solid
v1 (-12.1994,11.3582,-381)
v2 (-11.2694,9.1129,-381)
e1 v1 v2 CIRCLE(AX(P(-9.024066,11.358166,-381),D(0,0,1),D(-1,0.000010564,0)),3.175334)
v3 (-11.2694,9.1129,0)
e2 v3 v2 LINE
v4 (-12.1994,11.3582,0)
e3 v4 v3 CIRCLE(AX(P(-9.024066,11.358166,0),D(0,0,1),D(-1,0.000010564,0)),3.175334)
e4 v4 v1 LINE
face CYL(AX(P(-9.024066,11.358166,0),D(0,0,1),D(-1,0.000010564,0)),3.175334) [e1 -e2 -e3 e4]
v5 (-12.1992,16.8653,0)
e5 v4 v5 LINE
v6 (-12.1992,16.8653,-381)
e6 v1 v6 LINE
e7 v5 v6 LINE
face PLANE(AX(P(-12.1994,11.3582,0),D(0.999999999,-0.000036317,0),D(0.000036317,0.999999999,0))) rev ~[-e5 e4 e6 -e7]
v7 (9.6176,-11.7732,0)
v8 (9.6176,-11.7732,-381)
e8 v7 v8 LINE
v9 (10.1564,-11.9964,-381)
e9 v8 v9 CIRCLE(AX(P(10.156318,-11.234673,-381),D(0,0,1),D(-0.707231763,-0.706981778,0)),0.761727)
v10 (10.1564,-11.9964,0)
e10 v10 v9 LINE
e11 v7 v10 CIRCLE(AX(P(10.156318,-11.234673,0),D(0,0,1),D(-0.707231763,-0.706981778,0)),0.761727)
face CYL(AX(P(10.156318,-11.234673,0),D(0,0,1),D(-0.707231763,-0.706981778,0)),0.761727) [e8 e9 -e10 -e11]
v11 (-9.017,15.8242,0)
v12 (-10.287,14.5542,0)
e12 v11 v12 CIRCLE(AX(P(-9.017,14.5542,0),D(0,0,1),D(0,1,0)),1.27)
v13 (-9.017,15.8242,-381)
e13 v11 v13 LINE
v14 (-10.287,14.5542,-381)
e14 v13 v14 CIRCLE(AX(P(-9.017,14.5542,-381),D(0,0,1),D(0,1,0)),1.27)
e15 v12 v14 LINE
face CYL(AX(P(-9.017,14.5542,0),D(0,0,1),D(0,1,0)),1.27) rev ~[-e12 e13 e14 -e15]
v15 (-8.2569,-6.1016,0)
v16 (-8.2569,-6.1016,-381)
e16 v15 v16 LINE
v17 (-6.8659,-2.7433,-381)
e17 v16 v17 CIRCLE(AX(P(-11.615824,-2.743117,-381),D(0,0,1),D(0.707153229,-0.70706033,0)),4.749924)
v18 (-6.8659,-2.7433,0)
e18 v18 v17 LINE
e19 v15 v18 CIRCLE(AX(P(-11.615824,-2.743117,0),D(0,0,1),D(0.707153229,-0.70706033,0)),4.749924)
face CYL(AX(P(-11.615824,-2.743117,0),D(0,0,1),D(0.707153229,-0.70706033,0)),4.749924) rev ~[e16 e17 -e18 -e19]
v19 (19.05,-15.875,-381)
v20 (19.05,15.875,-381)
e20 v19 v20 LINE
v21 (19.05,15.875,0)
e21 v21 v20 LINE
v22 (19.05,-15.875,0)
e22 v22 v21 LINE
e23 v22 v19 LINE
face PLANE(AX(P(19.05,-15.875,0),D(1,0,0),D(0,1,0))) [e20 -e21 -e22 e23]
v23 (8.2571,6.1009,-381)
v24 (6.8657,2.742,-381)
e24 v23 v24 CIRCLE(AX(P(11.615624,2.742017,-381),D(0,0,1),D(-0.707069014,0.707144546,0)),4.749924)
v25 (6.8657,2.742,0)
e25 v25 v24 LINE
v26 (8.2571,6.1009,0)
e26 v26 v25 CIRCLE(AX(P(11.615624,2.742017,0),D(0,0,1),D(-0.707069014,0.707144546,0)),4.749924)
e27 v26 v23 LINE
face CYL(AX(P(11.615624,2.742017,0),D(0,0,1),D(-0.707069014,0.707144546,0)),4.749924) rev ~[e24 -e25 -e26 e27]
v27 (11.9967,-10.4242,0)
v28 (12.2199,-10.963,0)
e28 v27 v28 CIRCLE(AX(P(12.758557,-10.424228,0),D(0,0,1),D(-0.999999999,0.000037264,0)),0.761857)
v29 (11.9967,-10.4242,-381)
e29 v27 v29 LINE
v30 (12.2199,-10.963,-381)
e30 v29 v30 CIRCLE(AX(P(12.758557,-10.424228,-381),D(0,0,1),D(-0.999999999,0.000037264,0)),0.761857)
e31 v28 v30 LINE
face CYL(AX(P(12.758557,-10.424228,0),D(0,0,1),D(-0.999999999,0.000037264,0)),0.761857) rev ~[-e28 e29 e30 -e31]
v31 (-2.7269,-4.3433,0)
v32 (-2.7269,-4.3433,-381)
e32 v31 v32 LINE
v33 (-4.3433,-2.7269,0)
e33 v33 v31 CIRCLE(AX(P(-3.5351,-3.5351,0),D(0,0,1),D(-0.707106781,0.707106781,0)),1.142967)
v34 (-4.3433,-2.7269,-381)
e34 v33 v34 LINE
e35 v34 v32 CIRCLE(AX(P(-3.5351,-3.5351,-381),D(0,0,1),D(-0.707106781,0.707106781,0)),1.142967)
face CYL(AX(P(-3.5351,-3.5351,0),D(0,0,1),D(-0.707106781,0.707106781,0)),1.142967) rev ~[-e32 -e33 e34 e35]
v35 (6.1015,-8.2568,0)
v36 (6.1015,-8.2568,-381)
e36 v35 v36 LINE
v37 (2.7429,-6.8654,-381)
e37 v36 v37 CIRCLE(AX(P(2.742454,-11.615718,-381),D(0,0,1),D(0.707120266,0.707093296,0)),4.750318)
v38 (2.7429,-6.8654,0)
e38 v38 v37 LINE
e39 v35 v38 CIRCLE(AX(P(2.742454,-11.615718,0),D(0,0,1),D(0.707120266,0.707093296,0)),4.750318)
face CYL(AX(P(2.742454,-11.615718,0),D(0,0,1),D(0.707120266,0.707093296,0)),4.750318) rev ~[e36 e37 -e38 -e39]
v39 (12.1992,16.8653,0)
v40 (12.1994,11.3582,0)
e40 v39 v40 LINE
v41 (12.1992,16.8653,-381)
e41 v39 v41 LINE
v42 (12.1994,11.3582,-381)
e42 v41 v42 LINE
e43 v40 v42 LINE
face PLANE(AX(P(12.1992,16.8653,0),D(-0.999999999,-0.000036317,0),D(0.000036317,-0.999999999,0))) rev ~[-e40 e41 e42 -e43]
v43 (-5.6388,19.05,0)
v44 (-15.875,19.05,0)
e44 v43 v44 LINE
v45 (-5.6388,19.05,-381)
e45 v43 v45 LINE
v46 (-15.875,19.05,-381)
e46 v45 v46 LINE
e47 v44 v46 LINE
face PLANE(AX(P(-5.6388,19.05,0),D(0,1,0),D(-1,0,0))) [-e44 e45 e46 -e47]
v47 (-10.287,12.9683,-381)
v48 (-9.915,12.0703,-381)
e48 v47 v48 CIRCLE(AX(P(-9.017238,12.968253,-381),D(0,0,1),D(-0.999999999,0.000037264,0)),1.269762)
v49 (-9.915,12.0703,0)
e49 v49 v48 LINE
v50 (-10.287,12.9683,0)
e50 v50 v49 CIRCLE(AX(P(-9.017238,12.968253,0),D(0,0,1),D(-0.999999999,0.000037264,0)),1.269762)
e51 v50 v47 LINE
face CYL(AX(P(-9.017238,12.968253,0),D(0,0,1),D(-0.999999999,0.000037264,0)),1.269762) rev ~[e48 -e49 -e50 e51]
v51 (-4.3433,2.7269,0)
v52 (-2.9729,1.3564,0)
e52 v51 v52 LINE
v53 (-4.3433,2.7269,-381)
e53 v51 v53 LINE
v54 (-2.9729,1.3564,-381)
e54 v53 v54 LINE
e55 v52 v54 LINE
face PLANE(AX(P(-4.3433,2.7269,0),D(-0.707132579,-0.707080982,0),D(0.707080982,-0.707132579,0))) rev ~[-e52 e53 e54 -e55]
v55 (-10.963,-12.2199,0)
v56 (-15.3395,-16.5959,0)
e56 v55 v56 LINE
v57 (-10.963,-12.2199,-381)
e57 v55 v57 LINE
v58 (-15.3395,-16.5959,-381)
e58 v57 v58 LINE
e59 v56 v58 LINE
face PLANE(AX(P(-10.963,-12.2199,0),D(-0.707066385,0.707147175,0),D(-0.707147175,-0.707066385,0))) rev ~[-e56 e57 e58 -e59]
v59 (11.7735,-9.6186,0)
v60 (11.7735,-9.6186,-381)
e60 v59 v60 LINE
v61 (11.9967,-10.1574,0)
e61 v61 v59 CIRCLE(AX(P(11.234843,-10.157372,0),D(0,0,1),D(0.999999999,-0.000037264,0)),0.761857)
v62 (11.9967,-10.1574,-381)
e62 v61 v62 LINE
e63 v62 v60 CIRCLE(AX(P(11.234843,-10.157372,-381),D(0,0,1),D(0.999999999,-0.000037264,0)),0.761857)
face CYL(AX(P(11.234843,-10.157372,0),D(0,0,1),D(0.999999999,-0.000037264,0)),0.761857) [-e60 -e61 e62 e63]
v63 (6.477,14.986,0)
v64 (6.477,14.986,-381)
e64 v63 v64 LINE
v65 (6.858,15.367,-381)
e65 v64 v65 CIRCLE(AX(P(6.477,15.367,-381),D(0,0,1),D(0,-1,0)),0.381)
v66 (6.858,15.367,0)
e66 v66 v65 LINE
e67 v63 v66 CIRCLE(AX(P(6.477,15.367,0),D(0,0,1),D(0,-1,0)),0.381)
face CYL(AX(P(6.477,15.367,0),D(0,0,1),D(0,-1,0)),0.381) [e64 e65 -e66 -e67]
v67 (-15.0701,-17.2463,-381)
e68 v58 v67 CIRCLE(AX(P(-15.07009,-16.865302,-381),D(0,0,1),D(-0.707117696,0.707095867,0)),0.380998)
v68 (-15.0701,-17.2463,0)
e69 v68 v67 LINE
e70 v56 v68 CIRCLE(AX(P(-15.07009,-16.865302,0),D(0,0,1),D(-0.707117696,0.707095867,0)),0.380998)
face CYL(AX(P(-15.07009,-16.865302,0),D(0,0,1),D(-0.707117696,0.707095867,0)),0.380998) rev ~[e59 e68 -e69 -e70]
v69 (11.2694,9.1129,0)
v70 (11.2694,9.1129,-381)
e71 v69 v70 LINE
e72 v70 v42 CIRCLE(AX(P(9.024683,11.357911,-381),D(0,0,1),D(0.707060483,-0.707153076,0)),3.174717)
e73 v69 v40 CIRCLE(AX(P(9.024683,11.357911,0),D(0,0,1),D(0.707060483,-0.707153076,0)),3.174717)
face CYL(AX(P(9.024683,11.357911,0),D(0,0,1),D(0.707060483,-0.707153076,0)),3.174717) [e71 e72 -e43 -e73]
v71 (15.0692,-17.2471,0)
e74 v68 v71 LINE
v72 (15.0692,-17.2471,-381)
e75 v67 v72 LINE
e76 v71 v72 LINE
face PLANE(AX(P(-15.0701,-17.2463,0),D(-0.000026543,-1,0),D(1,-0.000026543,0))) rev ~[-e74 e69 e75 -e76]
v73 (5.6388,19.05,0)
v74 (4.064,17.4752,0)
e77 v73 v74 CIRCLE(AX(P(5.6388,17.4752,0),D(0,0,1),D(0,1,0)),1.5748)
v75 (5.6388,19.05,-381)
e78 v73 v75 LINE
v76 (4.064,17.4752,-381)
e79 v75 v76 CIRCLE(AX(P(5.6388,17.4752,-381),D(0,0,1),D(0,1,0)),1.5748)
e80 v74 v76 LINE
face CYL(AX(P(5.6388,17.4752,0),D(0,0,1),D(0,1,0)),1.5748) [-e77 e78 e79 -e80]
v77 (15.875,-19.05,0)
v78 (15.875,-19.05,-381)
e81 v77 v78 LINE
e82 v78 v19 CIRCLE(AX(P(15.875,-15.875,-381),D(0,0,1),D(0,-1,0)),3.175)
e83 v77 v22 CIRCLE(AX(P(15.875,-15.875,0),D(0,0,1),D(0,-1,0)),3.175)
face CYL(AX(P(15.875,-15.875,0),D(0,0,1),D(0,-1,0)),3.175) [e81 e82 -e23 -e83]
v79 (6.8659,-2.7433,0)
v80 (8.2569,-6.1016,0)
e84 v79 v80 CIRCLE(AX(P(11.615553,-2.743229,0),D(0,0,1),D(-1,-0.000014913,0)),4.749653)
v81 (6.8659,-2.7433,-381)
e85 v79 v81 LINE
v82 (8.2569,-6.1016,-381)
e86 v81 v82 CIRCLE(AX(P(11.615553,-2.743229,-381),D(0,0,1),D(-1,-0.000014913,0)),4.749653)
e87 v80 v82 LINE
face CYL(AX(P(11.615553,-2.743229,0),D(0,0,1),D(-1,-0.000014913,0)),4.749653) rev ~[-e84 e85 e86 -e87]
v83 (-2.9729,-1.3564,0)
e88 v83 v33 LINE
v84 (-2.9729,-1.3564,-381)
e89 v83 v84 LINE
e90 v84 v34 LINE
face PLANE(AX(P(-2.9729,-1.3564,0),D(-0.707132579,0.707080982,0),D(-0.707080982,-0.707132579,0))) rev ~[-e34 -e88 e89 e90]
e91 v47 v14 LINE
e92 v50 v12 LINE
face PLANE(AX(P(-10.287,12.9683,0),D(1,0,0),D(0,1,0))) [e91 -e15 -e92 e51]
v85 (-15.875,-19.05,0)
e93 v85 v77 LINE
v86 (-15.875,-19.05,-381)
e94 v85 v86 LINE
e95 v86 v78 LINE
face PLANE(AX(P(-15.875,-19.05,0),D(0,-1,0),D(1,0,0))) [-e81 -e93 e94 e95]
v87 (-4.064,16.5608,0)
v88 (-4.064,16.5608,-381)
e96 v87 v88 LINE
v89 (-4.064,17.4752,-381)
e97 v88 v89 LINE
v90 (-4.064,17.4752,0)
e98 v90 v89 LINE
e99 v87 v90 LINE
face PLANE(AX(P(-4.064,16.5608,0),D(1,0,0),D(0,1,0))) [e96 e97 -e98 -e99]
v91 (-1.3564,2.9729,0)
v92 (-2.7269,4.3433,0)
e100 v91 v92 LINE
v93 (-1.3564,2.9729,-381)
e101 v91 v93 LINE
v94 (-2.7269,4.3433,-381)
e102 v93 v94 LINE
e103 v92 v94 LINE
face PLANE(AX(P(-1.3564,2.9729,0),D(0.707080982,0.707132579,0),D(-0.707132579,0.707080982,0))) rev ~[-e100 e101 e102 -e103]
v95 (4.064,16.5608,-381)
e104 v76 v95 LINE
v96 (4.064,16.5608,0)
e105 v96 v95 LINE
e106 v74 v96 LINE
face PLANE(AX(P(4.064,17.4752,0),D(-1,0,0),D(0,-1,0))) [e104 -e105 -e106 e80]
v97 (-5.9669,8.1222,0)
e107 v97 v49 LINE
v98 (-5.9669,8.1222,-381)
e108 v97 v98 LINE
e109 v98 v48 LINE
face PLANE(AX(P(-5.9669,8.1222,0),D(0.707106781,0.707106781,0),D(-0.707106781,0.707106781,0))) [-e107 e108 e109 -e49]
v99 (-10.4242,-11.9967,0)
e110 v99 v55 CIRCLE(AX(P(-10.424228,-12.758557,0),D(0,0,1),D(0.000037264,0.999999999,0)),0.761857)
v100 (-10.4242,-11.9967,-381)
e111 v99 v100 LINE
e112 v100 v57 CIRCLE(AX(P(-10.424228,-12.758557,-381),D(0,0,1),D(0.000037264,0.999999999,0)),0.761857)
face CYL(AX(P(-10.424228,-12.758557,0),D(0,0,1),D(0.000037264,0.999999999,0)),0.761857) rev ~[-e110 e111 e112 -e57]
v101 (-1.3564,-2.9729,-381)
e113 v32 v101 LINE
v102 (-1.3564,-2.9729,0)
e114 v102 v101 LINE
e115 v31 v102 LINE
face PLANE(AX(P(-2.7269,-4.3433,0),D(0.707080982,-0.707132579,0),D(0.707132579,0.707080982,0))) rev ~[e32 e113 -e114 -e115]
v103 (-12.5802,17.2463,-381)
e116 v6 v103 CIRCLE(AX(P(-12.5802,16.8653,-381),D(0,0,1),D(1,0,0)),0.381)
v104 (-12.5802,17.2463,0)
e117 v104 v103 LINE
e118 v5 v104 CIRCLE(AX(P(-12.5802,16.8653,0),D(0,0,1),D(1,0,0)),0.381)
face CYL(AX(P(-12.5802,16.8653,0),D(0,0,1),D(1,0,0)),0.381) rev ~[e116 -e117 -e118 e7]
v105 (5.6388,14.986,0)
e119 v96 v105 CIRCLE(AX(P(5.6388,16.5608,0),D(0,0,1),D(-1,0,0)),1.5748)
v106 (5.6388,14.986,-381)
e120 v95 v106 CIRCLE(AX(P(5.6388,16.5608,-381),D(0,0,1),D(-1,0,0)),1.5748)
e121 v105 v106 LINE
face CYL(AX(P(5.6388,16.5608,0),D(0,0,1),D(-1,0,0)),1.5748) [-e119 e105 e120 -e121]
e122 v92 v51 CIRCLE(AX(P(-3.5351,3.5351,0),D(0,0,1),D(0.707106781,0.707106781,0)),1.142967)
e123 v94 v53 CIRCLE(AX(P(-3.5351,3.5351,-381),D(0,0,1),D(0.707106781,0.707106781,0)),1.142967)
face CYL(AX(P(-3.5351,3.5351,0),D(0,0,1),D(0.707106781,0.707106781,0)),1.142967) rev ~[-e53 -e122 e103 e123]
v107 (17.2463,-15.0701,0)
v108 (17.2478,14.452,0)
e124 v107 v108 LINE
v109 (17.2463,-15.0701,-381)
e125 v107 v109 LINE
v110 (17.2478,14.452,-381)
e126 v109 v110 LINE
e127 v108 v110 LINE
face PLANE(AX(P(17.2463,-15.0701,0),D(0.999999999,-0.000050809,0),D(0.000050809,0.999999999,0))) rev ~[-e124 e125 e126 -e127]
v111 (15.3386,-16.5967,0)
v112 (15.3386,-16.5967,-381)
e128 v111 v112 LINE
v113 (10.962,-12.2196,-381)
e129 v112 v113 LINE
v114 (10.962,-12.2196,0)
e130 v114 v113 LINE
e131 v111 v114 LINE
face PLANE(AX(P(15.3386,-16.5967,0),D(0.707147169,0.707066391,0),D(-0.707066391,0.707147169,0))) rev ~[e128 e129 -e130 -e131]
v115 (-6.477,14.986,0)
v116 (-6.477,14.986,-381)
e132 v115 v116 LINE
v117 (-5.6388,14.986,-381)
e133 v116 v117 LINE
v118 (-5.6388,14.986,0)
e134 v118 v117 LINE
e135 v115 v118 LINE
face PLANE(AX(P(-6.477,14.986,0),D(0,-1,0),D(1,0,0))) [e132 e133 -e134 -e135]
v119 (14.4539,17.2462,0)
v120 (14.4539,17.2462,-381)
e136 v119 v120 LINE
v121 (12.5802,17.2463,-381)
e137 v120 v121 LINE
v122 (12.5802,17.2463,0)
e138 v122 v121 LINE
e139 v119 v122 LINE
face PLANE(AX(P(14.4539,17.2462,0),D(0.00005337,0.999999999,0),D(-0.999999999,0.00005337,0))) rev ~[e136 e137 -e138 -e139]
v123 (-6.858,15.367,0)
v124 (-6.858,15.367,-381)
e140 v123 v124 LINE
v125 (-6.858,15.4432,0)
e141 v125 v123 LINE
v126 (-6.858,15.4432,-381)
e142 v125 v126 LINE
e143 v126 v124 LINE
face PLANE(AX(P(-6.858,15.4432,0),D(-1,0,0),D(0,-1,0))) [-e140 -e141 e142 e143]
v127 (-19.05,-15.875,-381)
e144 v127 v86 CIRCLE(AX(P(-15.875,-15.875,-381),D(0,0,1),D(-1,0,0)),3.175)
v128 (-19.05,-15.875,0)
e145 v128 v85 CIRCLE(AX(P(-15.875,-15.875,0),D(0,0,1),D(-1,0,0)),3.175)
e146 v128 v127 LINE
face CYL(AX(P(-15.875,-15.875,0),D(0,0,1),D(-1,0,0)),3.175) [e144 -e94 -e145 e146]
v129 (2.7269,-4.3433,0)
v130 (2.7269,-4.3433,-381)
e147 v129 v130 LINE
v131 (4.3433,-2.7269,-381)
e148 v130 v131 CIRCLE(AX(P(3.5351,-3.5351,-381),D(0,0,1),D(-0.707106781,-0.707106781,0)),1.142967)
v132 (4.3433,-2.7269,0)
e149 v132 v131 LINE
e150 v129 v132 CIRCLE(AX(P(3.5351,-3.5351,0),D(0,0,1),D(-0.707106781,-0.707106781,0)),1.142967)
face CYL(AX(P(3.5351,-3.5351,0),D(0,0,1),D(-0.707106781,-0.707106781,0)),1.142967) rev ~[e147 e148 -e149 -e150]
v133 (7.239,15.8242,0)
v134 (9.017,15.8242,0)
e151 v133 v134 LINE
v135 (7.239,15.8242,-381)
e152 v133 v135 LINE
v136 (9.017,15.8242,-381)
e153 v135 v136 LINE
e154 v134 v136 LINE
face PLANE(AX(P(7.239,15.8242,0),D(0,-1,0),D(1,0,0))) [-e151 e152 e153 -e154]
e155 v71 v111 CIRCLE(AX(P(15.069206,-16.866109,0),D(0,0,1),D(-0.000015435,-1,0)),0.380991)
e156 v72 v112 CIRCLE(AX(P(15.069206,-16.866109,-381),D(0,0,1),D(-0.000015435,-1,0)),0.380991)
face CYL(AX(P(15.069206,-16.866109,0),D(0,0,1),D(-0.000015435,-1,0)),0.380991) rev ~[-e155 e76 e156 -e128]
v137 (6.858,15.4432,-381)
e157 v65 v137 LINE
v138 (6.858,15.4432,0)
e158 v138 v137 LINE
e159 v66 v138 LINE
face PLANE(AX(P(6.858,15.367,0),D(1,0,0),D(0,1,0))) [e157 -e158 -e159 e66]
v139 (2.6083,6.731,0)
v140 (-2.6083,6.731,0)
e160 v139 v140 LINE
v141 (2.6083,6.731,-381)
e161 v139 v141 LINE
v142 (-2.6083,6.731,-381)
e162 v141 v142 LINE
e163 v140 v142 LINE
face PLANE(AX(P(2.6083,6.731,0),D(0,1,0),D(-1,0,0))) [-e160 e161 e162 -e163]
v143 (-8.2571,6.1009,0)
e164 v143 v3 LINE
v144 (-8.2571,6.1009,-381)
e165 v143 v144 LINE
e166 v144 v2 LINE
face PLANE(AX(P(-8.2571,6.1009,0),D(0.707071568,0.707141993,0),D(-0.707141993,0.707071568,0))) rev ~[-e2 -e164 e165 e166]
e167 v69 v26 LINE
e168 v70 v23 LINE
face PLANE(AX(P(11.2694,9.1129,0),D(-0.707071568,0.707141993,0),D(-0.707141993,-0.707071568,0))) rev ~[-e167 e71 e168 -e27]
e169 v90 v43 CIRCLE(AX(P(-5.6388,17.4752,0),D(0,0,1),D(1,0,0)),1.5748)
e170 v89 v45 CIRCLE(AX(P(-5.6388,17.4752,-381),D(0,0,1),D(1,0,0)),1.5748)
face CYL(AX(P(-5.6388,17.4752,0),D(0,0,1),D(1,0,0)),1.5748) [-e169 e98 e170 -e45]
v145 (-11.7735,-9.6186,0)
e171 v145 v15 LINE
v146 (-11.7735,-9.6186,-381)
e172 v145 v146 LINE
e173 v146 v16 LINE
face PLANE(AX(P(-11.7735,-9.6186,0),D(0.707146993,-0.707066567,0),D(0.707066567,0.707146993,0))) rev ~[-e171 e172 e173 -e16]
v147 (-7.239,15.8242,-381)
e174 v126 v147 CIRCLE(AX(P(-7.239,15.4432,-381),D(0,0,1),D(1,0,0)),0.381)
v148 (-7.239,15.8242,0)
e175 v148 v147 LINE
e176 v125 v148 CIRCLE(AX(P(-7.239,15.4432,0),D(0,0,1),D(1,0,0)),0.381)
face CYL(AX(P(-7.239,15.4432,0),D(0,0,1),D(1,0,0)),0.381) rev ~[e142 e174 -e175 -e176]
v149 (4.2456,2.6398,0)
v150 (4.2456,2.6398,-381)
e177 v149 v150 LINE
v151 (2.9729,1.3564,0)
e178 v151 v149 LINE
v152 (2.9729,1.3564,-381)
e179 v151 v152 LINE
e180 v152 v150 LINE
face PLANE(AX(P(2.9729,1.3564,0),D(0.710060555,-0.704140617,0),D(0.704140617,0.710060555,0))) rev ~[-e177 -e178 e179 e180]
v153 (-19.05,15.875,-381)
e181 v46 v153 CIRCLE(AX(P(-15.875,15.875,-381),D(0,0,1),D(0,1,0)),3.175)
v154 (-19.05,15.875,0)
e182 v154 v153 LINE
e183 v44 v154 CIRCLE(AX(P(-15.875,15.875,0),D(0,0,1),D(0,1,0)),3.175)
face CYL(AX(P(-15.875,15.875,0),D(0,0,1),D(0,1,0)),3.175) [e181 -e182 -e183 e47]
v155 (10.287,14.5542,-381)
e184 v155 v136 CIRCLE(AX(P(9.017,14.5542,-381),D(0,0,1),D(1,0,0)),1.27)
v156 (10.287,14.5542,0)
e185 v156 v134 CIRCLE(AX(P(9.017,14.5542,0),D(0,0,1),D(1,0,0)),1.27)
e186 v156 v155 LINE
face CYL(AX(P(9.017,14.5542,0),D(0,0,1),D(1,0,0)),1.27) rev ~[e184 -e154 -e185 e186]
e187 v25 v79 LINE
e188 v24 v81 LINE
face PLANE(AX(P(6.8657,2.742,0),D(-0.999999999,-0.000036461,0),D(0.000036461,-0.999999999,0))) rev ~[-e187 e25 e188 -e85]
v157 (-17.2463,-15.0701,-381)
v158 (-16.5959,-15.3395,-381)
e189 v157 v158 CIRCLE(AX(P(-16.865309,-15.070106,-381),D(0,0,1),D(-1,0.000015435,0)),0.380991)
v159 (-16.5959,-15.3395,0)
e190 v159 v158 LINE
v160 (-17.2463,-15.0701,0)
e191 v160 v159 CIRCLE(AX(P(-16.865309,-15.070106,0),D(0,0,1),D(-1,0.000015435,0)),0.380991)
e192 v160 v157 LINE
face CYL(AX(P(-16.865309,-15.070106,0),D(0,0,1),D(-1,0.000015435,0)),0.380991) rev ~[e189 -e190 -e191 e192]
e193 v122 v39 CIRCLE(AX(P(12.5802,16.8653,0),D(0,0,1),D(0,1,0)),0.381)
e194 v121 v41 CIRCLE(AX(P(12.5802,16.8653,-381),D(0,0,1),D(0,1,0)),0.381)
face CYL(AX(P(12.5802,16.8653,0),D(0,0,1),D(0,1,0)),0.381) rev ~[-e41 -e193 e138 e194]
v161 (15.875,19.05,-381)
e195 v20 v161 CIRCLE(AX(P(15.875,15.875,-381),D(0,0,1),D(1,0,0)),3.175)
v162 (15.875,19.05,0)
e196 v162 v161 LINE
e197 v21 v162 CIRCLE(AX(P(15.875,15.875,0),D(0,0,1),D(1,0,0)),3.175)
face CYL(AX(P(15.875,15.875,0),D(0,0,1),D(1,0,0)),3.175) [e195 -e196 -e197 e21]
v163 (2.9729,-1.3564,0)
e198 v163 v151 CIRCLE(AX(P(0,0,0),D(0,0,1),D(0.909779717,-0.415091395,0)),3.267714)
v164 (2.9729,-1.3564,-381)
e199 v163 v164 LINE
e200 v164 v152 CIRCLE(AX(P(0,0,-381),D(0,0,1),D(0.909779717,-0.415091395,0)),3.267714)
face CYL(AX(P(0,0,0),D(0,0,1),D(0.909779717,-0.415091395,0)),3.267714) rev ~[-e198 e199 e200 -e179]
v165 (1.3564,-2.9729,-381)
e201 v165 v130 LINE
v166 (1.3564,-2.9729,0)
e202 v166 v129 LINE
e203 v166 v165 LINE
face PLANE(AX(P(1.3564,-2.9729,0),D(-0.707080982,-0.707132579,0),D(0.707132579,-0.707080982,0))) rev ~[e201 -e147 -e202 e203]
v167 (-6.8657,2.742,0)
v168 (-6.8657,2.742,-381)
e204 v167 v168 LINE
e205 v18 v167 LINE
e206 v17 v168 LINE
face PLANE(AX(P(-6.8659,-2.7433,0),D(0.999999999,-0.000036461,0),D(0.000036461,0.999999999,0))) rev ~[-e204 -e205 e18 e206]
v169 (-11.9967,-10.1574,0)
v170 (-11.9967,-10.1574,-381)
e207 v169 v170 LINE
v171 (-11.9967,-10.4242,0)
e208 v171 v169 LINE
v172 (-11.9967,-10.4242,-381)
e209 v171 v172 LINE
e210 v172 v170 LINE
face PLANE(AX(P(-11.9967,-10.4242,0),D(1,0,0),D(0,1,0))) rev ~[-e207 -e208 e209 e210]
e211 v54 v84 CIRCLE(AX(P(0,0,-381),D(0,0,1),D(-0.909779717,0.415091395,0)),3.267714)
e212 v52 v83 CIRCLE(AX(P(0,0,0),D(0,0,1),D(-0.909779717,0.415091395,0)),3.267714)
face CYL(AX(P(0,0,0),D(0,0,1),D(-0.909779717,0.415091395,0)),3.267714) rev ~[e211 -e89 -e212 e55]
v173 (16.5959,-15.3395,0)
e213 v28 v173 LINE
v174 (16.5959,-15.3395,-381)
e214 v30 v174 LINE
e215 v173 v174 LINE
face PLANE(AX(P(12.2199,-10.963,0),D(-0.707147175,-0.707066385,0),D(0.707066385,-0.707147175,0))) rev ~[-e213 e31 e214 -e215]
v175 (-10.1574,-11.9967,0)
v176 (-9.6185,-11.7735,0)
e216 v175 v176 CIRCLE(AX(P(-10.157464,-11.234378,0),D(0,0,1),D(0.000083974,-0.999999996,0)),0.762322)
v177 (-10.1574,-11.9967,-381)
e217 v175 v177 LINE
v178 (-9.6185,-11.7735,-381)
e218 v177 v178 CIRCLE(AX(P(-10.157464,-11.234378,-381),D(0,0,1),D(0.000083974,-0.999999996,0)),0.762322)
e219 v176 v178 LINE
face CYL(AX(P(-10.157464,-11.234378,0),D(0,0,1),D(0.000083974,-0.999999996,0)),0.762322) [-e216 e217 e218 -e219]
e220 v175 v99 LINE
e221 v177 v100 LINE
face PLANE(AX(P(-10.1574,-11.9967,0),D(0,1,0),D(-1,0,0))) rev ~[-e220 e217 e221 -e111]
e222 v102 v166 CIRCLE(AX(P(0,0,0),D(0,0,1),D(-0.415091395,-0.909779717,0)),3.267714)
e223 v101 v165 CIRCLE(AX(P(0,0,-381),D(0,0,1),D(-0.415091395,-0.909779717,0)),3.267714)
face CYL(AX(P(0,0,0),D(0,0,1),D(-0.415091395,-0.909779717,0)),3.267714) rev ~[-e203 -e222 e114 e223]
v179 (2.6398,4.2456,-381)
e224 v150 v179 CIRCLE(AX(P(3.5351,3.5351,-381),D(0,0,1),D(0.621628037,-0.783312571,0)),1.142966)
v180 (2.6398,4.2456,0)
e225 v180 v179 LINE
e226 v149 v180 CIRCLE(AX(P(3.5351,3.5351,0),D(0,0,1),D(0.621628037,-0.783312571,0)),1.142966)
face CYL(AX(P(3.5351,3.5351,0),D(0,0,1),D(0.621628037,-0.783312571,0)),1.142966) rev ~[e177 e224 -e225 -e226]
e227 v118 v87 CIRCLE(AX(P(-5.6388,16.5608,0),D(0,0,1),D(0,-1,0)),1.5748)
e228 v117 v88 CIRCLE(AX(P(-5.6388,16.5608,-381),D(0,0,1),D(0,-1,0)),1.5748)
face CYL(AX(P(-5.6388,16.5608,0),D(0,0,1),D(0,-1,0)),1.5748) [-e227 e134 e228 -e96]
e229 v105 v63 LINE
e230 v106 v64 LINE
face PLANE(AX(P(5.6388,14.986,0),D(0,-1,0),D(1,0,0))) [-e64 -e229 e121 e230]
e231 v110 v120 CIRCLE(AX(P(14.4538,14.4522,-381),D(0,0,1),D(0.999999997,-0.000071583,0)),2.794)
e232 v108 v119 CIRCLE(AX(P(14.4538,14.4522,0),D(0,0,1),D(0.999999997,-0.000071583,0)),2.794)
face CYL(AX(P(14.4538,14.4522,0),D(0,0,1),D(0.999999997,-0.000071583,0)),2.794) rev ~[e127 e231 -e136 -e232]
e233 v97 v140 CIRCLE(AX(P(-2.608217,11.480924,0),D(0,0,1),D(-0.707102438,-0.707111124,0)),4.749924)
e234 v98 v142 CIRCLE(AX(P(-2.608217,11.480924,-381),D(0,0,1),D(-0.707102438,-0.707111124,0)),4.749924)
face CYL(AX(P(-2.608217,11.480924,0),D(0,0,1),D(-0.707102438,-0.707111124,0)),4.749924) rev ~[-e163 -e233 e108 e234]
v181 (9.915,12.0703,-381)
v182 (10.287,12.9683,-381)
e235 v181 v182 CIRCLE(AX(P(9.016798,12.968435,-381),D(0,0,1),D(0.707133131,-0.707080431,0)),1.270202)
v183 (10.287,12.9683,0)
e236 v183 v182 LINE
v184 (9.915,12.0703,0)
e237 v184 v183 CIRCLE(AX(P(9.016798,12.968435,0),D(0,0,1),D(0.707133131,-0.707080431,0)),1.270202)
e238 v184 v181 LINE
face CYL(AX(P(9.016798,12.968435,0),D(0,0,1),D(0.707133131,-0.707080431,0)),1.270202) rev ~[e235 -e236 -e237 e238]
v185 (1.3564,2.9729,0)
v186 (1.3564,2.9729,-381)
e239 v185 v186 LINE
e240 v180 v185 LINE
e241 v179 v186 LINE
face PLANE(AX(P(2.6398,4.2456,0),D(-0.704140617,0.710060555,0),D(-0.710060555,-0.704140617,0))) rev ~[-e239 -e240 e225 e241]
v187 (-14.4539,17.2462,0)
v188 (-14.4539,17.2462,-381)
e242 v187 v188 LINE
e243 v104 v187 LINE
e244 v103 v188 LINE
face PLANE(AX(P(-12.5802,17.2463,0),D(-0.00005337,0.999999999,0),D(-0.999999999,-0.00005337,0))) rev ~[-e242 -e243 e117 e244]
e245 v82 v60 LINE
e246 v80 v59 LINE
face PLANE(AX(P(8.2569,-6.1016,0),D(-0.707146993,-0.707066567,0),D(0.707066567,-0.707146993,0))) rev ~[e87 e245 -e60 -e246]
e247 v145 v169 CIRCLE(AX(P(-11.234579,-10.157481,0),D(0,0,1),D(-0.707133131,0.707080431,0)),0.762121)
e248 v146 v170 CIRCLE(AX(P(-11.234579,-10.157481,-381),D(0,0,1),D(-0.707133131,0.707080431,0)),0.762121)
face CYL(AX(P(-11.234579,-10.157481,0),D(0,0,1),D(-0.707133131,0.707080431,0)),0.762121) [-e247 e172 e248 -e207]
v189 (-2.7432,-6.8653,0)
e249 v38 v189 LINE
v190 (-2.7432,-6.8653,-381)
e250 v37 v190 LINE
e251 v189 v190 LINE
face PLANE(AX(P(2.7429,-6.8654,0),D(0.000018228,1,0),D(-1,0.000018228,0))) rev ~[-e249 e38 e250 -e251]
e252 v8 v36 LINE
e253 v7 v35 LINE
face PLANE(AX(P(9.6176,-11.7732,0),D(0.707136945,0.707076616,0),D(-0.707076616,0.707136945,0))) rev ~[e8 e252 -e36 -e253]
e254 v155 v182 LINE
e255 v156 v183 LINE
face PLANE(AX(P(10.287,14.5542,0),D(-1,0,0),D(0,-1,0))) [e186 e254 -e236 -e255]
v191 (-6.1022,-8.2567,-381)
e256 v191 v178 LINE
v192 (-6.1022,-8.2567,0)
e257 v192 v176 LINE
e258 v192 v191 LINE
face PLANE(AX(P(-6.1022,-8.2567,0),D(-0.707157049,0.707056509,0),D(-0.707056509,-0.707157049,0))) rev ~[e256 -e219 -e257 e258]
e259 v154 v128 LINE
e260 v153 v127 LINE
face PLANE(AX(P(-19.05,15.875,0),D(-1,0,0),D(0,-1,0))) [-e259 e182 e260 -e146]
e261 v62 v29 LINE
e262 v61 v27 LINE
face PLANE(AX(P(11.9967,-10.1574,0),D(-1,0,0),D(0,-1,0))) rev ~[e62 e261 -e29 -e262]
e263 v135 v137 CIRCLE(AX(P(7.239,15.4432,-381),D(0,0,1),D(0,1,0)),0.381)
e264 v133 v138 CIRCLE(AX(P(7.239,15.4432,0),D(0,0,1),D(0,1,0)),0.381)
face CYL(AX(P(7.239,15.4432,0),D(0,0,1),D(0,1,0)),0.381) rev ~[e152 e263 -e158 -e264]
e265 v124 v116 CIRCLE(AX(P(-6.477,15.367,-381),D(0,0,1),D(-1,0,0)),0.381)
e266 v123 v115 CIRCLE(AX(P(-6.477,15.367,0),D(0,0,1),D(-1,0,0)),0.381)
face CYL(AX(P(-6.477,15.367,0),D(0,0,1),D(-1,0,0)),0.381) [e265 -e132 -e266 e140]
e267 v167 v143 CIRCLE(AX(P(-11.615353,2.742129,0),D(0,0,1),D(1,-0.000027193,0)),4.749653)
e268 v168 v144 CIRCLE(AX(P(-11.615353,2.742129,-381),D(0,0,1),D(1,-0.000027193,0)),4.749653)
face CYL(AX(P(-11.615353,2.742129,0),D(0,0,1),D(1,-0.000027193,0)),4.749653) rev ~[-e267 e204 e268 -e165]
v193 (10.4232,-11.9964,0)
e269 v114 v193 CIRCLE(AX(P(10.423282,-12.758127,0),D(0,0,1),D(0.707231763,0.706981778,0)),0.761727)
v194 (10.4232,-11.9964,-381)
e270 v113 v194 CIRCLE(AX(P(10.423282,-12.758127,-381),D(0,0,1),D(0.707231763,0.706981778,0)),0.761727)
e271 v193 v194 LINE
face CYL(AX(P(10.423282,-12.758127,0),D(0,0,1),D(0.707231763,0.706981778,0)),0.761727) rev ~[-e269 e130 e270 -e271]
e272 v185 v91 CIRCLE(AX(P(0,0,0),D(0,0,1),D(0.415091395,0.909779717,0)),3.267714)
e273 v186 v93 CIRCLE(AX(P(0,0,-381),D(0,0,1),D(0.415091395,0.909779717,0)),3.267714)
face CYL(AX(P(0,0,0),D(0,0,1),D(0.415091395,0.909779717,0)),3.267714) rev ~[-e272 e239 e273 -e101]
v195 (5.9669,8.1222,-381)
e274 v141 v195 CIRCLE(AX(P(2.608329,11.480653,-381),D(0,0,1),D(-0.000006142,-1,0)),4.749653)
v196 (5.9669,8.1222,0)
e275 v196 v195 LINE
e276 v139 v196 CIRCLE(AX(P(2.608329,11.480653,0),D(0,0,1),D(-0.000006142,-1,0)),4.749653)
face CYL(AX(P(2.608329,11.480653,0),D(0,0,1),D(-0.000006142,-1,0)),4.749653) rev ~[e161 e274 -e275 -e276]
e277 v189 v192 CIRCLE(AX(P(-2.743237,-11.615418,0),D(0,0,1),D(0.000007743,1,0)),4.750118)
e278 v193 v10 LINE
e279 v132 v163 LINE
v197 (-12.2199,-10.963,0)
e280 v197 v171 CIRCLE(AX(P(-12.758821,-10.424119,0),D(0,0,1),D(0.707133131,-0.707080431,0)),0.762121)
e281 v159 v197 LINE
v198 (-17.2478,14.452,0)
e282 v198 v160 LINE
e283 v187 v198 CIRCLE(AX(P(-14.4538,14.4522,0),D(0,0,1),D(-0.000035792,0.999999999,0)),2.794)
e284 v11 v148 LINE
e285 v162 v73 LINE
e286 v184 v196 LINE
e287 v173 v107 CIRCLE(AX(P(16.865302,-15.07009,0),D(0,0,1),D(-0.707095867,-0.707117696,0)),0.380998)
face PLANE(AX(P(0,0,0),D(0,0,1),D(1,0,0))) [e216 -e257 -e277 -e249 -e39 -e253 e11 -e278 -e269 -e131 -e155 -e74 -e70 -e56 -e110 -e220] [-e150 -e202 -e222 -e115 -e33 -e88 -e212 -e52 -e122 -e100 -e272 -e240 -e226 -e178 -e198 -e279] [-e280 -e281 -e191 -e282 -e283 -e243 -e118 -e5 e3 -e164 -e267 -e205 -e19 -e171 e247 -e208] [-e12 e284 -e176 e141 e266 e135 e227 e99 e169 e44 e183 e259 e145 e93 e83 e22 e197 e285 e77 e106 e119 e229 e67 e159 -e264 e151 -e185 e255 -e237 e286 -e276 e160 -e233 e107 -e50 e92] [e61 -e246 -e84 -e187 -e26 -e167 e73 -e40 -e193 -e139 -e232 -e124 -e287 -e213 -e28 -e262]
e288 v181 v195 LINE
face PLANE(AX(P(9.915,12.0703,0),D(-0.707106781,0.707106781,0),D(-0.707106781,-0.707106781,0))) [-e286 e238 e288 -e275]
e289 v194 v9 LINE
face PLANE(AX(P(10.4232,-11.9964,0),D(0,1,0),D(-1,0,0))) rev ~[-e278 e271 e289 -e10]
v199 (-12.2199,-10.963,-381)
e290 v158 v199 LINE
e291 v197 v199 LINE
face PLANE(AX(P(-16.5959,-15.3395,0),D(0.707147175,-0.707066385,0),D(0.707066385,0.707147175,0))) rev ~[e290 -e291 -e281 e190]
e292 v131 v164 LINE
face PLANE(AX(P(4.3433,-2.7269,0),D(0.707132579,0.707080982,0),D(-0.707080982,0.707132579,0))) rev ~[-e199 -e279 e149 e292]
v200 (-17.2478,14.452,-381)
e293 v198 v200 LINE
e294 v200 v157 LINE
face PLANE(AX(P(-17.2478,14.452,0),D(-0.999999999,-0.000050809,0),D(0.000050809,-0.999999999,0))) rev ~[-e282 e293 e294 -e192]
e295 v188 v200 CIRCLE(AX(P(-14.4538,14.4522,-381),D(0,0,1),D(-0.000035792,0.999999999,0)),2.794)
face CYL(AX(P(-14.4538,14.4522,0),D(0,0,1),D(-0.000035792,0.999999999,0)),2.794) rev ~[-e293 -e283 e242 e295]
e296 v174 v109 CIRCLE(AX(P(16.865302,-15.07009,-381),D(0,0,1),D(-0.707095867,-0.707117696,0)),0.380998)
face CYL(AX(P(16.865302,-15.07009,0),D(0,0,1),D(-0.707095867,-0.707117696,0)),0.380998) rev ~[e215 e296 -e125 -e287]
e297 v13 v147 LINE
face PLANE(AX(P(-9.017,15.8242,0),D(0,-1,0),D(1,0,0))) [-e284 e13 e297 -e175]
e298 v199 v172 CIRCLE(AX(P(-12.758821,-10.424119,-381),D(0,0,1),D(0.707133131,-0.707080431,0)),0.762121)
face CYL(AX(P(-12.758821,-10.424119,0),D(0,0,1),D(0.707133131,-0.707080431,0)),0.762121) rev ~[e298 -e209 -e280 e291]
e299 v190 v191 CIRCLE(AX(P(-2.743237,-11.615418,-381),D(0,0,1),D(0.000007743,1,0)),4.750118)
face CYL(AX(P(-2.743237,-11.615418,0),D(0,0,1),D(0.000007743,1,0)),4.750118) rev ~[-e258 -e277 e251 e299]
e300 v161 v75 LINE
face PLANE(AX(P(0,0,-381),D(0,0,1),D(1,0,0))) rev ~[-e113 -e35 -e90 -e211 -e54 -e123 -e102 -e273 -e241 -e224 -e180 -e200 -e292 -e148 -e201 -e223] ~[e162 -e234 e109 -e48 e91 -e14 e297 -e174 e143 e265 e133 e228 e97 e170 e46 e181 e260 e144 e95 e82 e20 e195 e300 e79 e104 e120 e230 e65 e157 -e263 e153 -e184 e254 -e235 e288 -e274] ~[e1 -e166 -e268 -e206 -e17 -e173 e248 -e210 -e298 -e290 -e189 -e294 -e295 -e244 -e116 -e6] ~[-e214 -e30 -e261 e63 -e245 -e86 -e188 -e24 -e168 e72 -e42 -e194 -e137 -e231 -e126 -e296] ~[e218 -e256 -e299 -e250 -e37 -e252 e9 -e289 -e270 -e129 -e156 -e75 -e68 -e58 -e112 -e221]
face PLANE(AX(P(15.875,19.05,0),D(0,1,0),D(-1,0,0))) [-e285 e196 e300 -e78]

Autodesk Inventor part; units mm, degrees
ref_plane "YZ Plane" through (0, 0, 0) normal (1, 0, 0) x (0, 1, 0)
ref_plane "XZ Plane" through (0, 0, 0) normal (0, 1, 0) x (-1, 0, 0)
ref_plane "XY Plane" through (0, 0, 0) normal (0, 0, 1) x (1, 0, 0)
sketch "Sketch1" plane through (0, 0, 0) normal (0, 0, 1) x (1, 0, 0)
  arc A0 (-4.3433, -2.7269) -> (-2.7269, -4.3433) centre (-3.5351, -3.5351) ccw
  line L0 (-2.9729, -1.3564) -> (-4.3433, -2.7269)
  arc A1 (-2.9729, 1.3564) -> (-2.9729, -1.3564) centre (0, 0) ccw
  line L1 (-4.3433, 2.7269) -> (-2.9729, 1.3564)
  arc A2 (-2.7269, 4.3433) -> (-4.3433, 2.7269) centre (-3.5351, 3.5351) ccw
  line L2 (-1.3564, 2.9729) -> (-2.7269, 4.3433)
  arc A3 (1.3564, 2.9729) -> (-1.3564, 2.9729) centre (0, 0) ccw
  line L3 (2.6398, 4.2456) -> (1.3564, 2.9729)
  arc A4 (4.2456, 2.6398) -> (2.6398, 4.2456) centre (3.5351, 3.5351) ccw
  line L4 (2.9729, 1.3564) -> (4.2456, 2.6398)
  arc A5 (2.9729, -1.3564) -> (2.9729, 1.3564) centre (0, 0) ccw
  line L5 (4.3433, -2.7269) -> (2.9729, -1.3564)
  arc A6 (2.7269, -4.3433) -> (4.3433, -2.7269) centre (3.5351, -3.5351) ccw
  line L6 (1.3564, -2.9729) -> (2.7269, -4.3433)
  arc A7 (-1.3564, -2.9729) -> (1.3564, -2.9729) centre (0, 0) ccw
  line L7 (-2.7269, -4.3433) -> (-1.3564, -2.9729)
  arc A8 (16.5959, -15.3395) -> (17.2463, -15.0701) centre (16.8653, -15.0701) ccw
  line L8 (12.2199, -10.963) -> (16.5959, -15.3395)
  arc A9 (11.9967, -10.4242) -> (12.2199, -10.963) centre (12.7587, -10.4242) ccw
  line L9 (11.9967, -10.1574) -> (11.9967, -10.4242)
  arc A10 (11.9967, -10.1574) -> (11.7735, -9.6186) centre (11.2347, -10.1574) ccw
  line L10 (8.2569, -6.1016) -> (11.7735, -9.6186)
  arc A11 (6.8659, -2.7433) -> (8.2569, -6.1016) centre (11.6157, -2.7432) ccw
  line L11 (6.8657, 2.742) -> (6.8659, -2.7433)
  arc A12 (8.2571, 6.1009) -> (6.8657, 2.742) centre (11.6155, 2.7421) ccw
  line L12 (11.2694, 9.1129) -> (8.2571, 6.1009)
  arc A13 (11.2694, 9.1129) -> (12.1994, 11.3582) centre (9.0244, 11.3581) ccw
  line L13 (12.1992, 16.8653) -> (12.1994, 11.3582)
  arc A14 (12.5802, 17.2463) -> (12.1992, 16.8653) centre (12.5802, 16.8653) ccw
  line L14 (14.4539, 17.2462) -> (12.5802, 17.2463)
  arc A15 (17.2478, 14.452) -> (14.4539, 17.2462) centre (14.4538, 14.4522) ccw
  line L15 (17.2463, -15.0701) -> (17.2478, 14.452)
  arc A16 (-17.2463, -15.0701) -> (-16.5959, -15.3395) centre (-16.8653, -15.0701) ccw
  line L16 (-17.2478, 14.452) -> (-17.2463, -15.0701)
  arc A17 (-14.4539, 17.2462) -> (-17.2478, 14.452) centre (-14.4538, 14.4522) ccw
  line L17 (-12.5802, 17.2463) -> (-14.4539, 17.2462)
  arc A18 (-12.1992, 16.8653) -> (-12.5802, 17.2463) centre (-12.5802, 16.8653) ccw
  line L18 (-12.1994, 11.3582) -> (-12.1992, 16.8653)
  arc A19 (-12.1994, 11.3582) -> (-11.2694, 9.1129) centre (-9.0244, 11.3581) ccw
  line L19 (-8.2571, 6.1009) -> (-11.2694, 9.1129)
  arc A20 (-6.8657, 2.742) -> (-8.2571, 6.1009) centre (-11.6155, 2.7421) ccw
  line L20 (-6.8659, -2.7433) -> (-6.8657, 2.742)
  arc A21 (-8.2569, -6.1016) -> (-6.8659, -2.7433) centre (-11.6157, -2.7432) ccw
  line L21 (-11.7735, -9.6186) -> (-8.2569, -6.1016)
  arc A22 (-11.7735, -9.6186) -> (-11.9967, -10.1574) centre (-11.2347, -10.1574) ccw
  line L22 (-11.9967, -10.4242) -> (-11.9967, -10.1574)
  arc A23 (-12.2199, -10.963) -> (-11.9967, -10.4242) centre (-12.7587, -10.4242) ccw
  line L23 (-16.5959, -15.3395) -> (-12.2199, -10.963)
  arc A24 (-2.7432, -6.8653) -> (-6.1022, -8.2567) centre (-2.7433, -11.6151) ccw
  line L24 (2.7429, -6.8654) -> (-2.7432, -6.8653)
  arc A25 (6.1015, -8.2568) -> (2.7429, -6.8654) centre (2.7428, -11.6152) ccw
  line L25 (9.6176, -11.7732) -> (6.1015, -8.2568)
  arc A26 (9.6176, -11.7732) -> (10.1564, -11.9964) centre (10.1565, -11.2344) ccw
  line L26 (10.4232, -11.9964) -> (10.1564, -11.9964)
  arc A27 (10.962, -12.2196) -> (10.4232, -11.9964) centre (10.4231, -12.7584) ccw
  line L27 (15.3386, -16.5967) -> (10.962, -12.2196)
  arc A28 (15.0692, -17.2471) -> (15.3386, -16.5967) centre (15.0692, -16.8661) ccw
  line L28 (-15.0701, -17.2463) -> (15.0692, -17.2471)
  arc A29 (-15.3395, -16.5959) -> (-15.0701, -17.2463) centre (-15.0701, -16.8653) ccw
  line L29 (-10.963, -12.2199) -> (-15.3395, -16.5959)
  arc A30 (-10.4242, -11.9967) -> (-10.963, -12.2199) centre (-10.4242, -12.7587) ccw
  line L30 (-10.1574, -11.9967) -> (-10.4242, -11.9967)
  arc A31 (-10.1574, -11.9967) -> (-9.6185, -11.7735) centre (-10.1574, -11.2347) ccw
  line L31 (-6.1022, -8.2567) -> (-9.6185, -11.7735)
  arc A32 (6.477, 14.986) -> (6.858, 15.367) centre (6.477, 15.367) ccw
  line L32 (6.858, 15.367) -> (6.858, 15.4432)
  arc A33 (7.239, 15.8242) -> (6.858, 15.4432) centre (7.239, 15.4432) ccw
  line L33 (7.239, 15.8242) -> (9.017, 15.8242)
  arc A34 (10.287, 14.5542) -> (9.017, 15.8242) centre (9.017, 14.5542) ccw
  line L34 (10.287, 14.5542) -> (10.287, 12.9683)
  arc A35 (9.915, 12.0703) -> (10.287, 12.9683) centre (9.017, 12.9683) ccw
  line L35 (9.915, 12.0703) -> (5.9669, 8.1222)
  arc A36 (2.6083, 6.731) -> (5.9669, 8.1222) centre (2.6083, 11.4808) ccw
  line L36 (2.6083, 6.731) -> (-2.6083, 6.731)
  arc A37 (-5.9669, 8.1222) -> (-2.6083, 6.731) centre (-2.6083, 11.4808) ccw
  line L37 (-5.9669, 8.1222) -> (-9.915, 12.0703)
  arc A38 (-10.287, 12.9683) -> (-9.915, 12.0703) centre (-9.017, 12.9683) ccw
  line L38 (-10.287, 12.9683) -> (-10.287, 14.5542)
  arc A39 (-9.017, 15.8242) -> (-10.287, 14.5542) centre (-9.017, 14.5542) ccw
  line L39 (-9.017, 15.8242) -> (-7.239, 15.8242)
  arc A40 (-6.858, 15.4432) -> (-7.239, 15.8242) centre (-7.239, 15.4432) ccw
  line L40 (-6.858, 15.4432) -> (-6.858, 15.367)
  arc A41 (-6.858, 15.367) -> (-6.477, 14.986) centre (-6.477, 15.367) ccw
  line L41 (-6.477, 14.986) -> (-5.6388, 14.986)
  arc A42 (-5.6388, 14.986) -> (-4.064, 16.5608) centre (-5.6388, 16.5608) ccw
  line L42 (-4.064, 16.5608) -> (-4.064, 17.4752)
  arc A43 (-4.064, 17.4752) -> (-5.6388, 19.05) centre (-5.6388, 17.4752) ccw
  line L43 (-5.6388, 19.05) -> (-15.875, 19.05)
  arc A44 (-15.875, 19.05) -> (-19.05, 15.875) centre (-15.875, 15.875) ccw
  line L44 (-19.05, 15.875) -> (-19.05, -15.875)
  arc A45 (-19.05, -15.875) -> (-15.875, -19.05) centre (-15.875, -15.875) ccw
  line L45 (-15.875, -19.05) -> (15.875, -19.05)
  arc A46 (15.875, -19.05) -> (19.05, -15.875) centre (15.875, -15.875) ccw
  line L46 (19.05, -15.875) -> (19.05, 15.875)
  arc A47 (19.05, 15.875) -> (15.875, 19.05) centre (15.875, 15.875) ccw
  line L47 (15.875, 19.05) -> (5.6388, 19.05)
  arc A48 (5.6388, 19.05) -> (4.064, 17.4752) centre (5.6388, 17.4752) ccw
  line L48 (4.064, 17.4752) -> (4.064, 16.5608)
  arc A49 (4.064, 16.5608) -> (5.6388, 14.986) centre (5.6388, 16.5608) ccw
  line L49 (5.6388, 14.986) -> (6.477, 14.986)
extrude "Extrusion1" add sketch "Sketch1" against normal blind 381
properties part number "1501-LS"
